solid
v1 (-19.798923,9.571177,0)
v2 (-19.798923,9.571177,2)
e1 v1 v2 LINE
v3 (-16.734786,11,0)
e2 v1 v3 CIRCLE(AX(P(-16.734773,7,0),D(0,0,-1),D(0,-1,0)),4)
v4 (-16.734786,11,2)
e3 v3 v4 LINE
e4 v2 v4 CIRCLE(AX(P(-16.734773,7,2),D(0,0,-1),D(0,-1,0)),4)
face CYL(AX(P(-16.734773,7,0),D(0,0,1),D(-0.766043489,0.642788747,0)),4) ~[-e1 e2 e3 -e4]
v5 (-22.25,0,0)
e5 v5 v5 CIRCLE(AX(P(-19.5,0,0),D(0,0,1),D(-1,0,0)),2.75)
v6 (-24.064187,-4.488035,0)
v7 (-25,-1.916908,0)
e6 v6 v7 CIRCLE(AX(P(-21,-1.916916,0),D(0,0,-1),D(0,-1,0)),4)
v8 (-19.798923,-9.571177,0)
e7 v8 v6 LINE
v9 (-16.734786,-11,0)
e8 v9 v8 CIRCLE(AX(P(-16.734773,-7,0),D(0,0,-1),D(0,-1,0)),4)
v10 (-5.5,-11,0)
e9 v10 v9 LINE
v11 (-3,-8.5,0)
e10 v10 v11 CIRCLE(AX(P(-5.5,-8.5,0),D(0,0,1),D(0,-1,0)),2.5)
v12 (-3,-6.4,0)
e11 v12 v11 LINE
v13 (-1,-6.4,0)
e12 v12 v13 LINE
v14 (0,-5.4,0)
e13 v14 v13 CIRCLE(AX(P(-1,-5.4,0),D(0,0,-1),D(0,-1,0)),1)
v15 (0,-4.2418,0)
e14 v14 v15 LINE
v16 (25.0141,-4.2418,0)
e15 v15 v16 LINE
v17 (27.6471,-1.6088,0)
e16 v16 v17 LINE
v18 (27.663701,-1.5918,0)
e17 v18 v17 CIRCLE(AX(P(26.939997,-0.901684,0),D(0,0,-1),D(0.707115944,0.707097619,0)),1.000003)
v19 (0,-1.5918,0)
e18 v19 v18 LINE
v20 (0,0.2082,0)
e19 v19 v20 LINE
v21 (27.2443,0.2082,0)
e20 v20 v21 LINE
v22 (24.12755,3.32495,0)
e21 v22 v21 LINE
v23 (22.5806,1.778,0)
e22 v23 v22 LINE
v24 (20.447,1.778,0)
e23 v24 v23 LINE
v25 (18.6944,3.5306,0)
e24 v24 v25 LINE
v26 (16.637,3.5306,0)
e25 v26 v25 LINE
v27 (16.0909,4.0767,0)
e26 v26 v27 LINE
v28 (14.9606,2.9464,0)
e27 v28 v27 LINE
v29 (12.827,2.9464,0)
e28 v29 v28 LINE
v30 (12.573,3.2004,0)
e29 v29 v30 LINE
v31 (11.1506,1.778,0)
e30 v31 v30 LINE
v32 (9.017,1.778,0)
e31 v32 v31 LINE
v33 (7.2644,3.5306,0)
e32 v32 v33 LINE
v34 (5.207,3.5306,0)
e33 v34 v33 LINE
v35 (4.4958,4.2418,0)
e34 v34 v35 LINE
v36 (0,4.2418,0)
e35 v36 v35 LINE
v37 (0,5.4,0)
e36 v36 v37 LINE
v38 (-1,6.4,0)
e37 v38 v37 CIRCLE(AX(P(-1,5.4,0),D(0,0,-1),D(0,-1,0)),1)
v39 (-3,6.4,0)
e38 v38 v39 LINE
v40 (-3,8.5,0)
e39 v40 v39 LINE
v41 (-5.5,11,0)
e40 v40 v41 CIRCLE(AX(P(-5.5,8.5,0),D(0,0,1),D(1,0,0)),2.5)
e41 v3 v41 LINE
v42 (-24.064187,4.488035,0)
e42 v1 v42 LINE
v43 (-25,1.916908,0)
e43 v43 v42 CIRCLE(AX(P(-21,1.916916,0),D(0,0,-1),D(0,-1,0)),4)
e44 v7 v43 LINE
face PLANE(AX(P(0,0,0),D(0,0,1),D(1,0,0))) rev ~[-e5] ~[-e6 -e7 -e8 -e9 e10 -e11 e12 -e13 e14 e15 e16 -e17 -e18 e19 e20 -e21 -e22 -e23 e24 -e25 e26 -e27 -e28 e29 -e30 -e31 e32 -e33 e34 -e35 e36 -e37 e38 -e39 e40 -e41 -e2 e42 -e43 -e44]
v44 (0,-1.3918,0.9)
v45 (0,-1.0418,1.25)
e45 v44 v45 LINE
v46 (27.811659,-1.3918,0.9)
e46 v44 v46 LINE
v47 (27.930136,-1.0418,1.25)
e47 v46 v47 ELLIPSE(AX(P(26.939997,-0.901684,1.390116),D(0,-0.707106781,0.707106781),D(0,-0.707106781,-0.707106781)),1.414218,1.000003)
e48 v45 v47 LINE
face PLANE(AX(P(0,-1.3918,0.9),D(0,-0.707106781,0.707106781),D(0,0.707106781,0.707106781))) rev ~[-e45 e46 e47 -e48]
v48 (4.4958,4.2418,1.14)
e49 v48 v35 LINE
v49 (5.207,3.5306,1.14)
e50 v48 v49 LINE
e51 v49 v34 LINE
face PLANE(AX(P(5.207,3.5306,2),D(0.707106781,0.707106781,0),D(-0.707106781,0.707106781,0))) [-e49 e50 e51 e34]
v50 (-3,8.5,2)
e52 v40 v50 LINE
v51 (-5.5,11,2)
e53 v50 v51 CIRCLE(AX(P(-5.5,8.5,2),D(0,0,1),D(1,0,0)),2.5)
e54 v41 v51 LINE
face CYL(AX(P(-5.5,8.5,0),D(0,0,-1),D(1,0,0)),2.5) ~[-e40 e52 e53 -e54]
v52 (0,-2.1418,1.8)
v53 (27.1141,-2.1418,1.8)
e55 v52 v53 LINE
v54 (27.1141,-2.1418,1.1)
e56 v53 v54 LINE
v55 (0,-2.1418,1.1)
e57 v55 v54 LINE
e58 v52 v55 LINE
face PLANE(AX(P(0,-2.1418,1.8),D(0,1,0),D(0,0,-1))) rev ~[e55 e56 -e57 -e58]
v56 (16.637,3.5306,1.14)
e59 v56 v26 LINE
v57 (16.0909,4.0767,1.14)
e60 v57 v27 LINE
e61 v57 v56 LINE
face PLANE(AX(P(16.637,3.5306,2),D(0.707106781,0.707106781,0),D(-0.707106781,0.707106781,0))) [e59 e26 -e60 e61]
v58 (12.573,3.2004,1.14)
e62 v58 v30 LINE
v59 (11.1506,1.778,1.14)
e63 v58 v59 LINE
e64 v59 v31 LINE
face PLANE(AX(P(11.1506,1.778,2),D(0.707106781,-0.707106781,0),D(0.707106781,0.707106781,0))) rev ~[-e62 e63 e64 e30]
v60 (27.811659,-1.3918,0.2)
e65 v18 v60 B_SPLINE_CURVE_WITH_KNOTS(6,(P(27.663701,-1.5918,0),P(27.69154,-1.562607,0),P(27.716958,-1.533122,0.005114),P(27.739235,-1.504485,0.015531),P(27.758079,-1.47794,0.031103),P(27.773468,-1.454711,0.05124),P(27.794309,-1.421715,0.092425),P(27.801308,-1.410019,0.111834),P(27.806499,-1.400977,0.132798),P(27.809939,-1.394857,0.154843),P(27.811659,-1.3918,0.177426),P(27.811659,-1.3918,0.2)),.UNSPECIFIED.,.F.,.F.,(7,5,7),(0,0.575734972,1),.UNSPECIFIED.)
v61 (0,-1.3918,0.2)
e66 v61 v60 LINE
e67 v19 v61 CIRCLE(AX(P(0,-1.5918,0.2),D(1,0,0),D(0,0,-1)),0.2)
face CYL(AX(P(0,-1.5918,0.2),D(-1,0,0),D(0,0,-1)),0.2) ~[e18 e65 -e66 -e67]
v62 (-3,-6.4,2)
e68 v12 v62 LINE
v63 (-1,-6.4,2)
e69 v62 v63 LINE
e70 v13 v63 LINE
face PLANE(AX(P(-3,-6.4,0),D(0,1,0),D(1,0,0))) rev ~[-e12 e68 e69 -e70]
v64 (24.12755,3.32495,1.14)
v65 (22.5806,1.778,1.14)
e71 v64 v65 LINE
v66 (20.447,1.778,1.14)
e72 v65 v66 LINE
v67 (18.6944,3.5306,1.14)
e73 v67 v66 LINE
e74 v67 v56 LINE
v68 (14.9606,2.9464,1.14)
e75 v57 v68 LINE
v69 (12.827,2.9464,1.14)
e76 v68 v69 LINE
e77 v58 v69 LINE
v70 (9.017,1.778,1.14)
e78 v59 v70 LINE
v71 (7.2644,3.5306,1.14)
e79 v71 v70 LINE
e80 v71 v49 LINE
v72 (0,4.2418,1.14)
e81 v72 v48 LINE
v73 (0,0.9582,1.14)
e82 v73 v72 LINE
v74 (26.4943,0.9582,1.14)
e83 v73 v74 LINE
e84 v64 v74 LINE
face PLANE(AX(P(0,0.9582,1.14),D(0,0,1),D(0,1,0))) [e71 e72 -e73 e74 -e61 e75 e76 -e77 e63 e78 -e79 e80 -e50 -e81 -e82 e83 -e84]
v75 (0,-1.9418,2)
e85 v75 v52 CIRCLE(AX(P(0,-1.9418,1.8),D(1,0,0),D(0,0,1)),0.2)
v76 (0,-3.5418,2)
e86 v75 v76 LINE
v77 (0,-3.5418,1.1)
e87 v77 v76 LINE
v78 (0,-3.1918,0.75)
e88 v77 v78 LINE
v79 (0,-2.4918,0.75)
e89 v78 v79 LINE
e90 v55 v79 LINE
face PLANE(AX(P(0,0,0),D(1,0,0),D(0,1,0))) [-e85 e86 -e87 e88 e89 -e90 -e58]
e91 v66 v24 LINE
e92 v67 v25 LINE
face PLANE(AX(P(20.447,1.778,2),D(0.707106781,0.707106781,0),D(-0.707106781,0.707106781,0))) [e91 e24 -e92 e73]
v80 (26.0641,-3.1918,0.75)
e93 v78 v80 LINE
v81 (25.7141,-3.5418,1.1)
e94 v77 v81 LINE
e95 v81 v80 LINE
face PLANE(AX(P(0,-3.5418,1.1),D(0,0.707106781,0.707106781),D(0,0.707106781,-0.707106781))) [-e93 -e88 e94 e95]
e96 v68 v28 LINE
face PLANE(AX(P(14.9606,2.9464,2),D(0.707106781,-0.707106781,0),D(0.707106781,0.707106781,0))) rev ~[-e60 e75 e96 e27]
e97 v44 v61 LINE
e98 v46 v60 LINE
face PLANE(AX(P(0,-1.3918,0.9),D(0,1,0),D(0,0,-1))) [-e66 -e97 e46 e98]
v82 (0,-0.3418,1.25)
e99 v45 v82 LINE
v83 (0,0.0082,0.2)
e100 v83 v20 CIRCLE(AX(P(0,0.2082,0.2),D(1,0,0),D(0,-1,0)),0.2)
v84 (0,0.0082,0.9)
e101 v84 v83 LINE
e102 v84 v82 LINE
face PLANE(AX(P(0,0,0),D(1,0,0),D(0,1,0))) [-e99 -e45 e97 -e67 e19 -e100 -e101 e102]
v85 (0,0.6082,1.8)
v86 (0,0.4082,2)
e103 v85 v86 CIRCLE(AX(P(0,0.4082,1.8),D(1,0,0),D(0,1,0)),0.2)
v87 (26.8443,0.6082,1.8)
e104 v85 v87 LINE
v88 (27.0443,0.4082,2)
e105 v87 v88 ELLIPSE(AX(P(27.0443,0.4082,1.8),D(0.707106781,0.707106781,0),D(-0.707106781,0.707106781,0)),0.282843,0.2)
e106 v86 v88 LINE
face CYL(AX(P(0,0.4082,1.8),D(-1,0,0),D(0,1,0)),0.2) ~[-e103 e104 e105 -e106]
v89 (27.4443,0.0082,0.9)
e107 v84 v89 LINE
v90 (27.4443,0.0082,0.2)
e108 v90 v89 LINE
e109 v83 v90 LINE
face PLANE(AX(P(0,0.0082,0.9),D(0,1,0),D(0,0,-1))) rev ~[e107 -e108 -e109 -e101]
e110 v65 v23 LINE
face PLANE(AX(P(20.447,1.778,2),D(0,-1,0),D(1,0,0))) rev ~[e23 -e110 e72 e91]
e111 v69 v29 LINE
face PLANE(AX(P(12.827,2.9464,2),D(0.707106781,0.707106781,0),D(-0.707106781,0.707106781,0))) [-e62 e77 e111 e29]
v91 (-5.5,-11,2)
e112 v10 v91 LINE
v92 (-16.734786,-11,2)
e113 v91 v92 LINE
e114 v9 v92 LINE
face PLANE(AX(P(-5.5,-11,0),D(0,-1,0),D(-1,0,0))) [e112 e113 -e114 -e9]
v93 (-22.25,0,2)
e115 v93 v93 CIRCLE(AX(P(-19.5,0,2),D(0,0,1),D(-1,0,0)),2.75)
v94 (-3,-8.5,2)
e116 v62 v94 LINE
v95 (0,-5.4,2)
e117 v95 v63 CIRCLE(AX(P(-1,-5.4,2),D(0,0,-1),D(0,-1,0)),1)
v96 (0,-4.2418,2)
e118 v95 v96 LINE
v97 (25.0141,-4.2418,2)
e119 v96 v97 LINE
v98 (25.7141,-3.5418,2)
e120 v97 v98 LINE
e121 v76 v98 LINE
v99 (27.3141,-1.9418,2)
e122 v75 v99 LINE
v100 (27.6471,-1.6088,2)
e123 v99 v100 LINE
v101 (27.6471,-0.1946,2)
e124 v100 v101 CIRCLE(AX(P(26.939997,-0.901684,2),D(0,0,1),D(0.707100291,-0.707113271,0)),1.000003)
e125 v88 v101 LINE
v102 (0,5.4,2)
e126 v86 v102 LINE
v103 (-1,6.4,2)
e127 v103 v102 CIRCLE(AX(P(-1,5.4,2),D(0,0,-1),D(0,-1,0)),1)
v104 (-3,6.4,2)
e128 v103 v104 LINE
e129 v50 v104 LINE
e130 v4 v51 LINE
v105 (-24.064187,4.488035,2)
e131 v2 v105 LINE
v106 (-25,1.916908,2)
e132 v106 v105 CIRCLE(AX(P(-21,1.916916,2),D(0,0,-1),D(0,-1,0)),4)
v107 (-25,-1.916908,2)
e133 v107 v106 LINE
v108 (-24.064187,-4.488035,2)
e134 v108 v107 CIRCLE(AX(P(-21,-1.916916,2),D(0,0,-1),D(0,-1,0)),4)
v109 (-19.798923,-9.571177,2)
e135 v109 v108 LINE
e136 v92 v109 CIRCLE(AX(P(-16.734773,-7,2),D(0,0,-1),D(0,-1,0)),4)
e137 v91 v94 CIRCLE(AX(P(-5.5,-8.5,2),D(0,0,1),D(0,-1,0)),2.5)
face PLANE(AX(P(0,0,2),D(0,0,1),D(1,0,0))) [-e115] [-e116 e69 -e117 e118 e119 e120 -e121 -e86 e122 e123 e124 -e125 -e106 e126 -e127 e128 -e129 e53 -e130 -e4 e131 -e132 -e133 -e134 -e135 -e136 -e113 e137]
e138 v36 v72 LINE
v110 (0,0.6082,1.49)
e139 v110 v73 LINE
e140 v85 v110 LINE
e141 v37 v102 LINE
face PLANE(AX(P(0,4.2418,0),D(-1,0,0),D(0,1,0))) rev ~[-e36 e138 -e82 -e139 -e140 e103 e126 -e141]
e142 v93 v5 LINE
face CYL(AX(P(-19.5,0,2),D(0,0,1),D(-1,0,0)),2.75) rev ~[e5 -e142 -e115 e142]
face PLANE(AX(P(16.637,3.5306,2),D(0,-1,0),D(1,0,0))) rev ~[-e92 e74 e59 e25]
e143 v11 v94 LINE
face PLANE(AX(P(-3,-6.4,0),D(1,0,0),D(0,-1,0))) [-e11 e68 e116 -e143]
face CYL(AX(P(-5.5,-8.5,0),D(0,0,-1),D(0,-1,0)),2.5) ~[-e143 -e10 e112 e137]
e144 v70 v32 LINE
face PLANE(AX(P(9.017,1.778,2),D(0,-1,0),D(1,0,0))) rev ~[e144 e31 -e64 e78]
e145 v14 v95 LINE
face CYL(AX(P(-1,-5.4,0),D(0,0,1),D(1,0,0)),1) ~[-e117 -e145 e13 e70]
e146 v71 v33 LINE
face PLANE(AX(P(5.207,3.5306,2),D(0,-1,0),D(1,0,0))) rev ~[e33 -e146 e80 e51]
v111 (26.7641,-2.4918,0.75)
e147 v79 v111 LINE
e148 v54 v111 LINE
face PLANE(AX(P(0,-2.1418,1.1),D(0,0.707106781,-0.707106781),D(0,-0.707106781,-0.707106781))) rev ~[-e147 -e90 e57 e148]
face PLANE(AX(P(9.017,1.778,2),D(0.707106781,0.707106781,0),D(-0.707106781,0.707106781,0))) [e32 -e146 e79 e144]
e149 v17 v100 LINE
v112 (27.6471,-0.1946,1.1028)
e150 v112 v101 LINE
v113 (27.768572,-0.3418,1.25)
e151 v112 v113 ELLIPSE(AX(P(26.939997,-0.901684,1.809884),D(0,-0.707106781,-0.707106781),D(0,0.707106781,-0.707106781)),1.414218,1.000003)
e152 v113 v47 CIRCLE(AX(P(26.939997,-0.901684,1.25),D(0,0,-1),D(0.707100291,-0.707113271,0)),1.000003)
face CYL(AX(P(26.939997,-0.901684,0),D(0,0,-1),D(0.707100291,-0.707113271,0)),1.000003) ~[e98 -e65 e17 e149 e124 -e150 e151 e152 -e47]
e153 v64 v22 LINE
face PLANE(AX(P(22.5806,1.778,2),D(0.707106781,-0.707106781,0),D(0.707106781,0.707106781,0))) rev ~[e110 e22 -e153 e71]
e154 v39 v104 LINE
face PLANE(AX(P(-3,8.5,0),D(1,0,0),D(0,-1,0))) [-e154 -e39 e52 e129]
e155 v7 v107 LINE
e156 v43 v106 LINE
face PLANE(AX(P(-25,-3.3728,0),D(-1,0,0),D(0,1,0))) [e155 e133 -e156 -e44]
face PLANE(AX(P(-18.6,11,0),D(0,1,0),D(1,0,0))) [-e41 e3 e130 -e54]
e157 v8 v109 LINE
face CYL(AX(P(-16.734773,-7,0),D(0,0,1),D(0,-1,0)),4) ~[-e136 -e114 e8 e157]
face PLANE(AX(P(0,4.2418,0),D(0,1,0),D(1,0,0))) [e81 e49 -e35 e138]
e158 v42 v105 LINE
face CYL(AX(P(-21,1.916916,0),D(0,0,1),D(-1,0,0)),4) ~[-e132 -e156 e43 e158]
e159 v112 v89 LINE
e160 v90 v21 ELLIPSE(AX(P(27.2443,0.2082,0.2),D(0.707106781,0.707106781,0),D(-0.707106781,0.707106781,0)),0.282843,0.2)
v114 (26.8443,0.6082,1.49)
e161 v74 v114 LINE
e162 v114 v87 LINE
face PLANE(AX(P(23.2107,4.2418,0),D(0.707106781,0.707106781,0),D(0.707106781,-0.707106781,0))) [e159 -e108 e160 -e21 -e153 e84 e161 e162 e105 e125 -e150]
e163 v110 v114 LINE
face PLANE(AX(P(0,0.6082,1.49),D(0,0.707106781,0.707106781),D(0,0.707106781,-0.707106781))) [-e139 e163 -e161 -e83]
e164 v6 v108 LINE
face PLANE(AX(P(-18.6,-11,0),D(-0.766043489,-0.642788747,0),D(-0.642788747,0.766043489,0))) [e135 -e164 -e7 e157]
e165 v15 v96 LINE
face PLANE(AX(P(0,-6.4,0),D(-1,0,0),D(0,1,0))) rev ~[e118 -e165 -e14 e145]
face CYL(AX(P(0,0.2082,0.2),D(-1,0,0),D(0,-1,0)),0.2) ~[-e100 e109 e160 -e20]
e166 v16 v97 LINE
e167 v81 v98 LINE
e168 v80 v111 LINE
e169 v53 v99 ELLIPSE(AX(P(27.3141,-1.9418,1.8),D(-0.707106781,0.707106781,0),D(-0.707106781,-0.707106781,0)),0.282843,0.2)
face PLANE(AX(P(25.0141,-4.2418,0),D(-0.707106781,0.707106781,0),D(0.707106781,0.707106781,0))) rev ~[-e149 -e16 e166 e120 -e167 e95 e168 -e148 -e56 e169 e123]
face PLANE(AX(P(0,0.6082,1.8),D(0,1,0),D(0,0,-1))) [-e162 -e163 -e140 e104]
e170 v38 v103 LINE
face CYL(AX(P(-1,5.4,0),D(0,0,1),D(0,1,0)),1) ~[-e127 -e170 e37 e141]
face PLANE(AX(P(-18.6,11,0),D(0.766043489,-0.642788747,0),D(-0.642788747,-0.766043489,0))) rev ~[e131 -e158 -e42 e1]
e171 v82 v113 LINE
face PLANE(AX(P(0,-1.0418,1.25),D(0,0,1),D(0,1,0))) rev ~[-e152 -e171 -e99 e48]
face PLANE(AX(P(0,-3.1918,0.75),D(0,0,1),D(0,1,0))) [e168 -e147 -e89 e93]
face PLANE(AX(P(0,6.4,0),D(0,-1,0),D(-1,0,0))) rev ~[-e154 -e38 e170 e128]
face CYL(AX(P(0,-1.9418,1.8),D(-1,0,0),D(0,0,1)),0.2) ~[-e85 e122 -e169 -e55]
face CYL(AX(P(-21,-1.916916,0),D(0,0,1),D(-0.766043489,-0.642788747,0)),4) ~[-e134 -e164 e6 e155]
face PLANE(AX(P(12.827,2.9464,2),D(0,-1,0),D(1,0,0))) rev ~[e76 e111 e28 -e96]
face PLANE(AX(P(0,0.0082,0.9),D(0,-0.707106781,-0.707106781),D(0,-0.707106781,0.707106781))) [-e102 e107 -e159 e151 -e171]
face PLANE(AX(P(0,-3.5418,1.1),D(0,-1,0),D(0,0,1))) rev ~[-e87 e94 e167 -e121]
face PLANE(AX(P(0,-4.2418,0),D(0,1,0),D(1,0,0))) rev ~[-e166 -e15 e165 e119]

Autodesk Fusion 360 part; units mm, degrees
sketch "Sketch1" plane through (0, 0, 0) normal (0, 0, 1) x (1, 0, 0)
  line L0 (0, 0) -> (27.94, 0) construction
  line L1 (0, -4.2418) -> (27.94, -4.2418)
  line L2 (0, 4.2418) -> (27.94, 4.2418)
  line L3 (-3, -6.4) -> (0, -6.4)
  line L4 (0, 6.4) -> (-3, 6.4)
  line L5 (-18.6, 11) -> (-3, 11)
  line L6 (-3, -11) -> (-18.6, -11)
  line L7 (-25, -3.3728) -> (-25, 3.3728)
  line L8 (-18.6, 11) -> (-25, 3.3728)
  line L9 (-25, 11) -> (-33.2141, 11) construction
  line L10 (-18.6, -11) -> (-25, -3.3728)
  line L11 (-18.6, -11) -> (-34.3032, -11) construction
  line L12 (-3, 11) -> (-3, 6.4)
  line L13 (-3, -6.4) -> (-3, -11)
  arc A0 (-3, 8.5) -> (-5.5, 11) centre (-5.5, 8.5) ccw
  arc A1 (-5.5, -11) -> (-3, -8.5) centre (-5.5, -8.5) ccw
  line L14 (27.94, 4.2418) -> (27.94, -4.2418)
  line L15 (23.2107, 4.2418) -> (27.6471, -0.1946)
  line L16 (23.2107, 4.2418) -> (33.0981, 4.2418) construction
  line L17 (0, -0.9017) -> (27.94, -0.9017) construction
  line L18 (25.0141, -4.2418) -> (27.6471, -1.6088)
  line L19 (25.0141, -4.2418) -> (38.1109, -4.2418) construction
  arc A2 (27.6471, -1.6088) -> (27.3724, 0) centre (26.94, -0.9017) ccw
  line L20 (0, 4.2418) -> (0, 6.4)
  line L21 (0, -6.4) -> (0, -4.2418)
  dimension "d6" = 27.94
  dimension "d7" = 4.2418
  dimension "d8" = -4.2418
  dimension "d10" = 6.4
  dimension "d11" = 6.4
  dimension "d13" = 3
  dimension "d14" = 11
  dimension "d15" = 11
  dimension "d17" = 50
  dimension "d19" = 50
  dimension "d21" = 6.4
  dimension "d23" = 5
  dimension "d24" = 5
  dimension "d25" = 22
  dimension "d26" = 7.6272
  dimension "d27" = 7.6272
  dimension "d29" = 45
  dimension "d30" = 3.3401
  dimension "d31" = 2
  dimension "d32" = 45
extrude "Extrude1" add sketch "Sketch1" along normal blind 2 contours L1 L2 L3 L4 L5 L6 L7 L8 L10 L12 L13 A0 A1 L15 L18 A2 L20 L21
fillet "Fillet1" radius 1 2 edges at (0, -6.4, 1) (0, 6.4, 1)
fillet "Fillet1" radius 4 4 edges at (-18.6, -11, 1) (-25, -3.3728, 1) (-25, 3.3728, 1) (-18.6, 11, 1)
sketch "Sketch2" plane through (0, 0, 2) normal (0, 0, 1) x (-1, 0, 0)
  line L0 (3, 6.4) -> (1, 6.4)
  line L1 (0, 5.4) -> (0, 4.2418)
  line L2 (0, 4.2418) -> (-25.0141, 4.2418)
  line L3 (-25.0141, 4.2418) -> (-27.6471, 1.6088)
  arc A0 (-27.6471, 1.6088) -> (-27.6471, 0.1946) centre (-26.94, 0.9017) ccw
  line L4 (-27.6471, 0.1946) -> (-23.2107, -4.2418)
  line L5 (-23.2107, -4.2418) -> (0, -4.2418)
  line L6 (0, -4.2418) -> (0, -5.4)
  line L7 (1, -6.4) -> (3, -6.4)
  line L8 (3, -6.4) -> (3, -8.5)
  arc A1 (3, -8.5) -> (5.5, -11) centre (5.5, -8.5) ccw
  line L9 (5.5, -11) -> (16.7348, -11)
  line L10 (19.7989, -9.5712) -> (24.0642, -4.488)
  line L11 (25, -1.9169) -> (25, 1.9169)
  line L12 (24.0642, 4.488) -> (19.7989, 9.5712)
  line L13 (16.7348, 11) -> (5.5, 11)
  arc A2 (5.5, 11) -> (3, 8.5) centre (5.5, 8.5) ccw
  line L14 (3, 8.5) -> (3, 6.4)
  line L15 (0, 4.2418) -> (0, -4.2418) construction
  line L16 (-6.2738, -4.2418) -> (-6.2738, 4.2418) construction
  line L17 (-10.0838, -4.2418) -> (-10.0838, 4.2418) construction
  line L18 (-13.8938, -4.2418) -> (-13.8938, 4.2418) construction
  line L19 (-17.7038, -4.2418) -> (-17.7038, 4.2418) construction
  line L20 (-21.5138, -4.2418) -> (-21.5138, 4.2418) construction
  line L21 (-5.207, -4.2418) -> (-5.207, 4.2418) construction
  line L22 (-7.3406, -4.2418) -> (-7.3406, 4.2418) construction
  line L23 (-9.017, -4.2418) -> (-9.017, 4.2418) construction
  line L24 (-11.1506, -4.2418) -> (-11.1506, 4.2418) construction
  line L25 (-12.827, -4.2418) -> (-12.827, 4.2418) construction
  line L26 (-14.9606, -4.2418) -> (-14.9606, 4.2418) construction
  line L27 (-16.637, -4.2418) -> (-16.637, 4.2418) construction
  line L28 (-18.7706, -4.2418) -> (-18.7706, 4.2418) construction
  line L29 (-20.447, -4.2418) -> (-20.447, 4.2418) construction
  line L30 (-22.5806, -4.2418) -> (-22.5806, 4.2418) construction
  line L31 (-5.207, -3.5306) -> (-7.3406, -3.5306)
  line L32 (-9.017, -1.778) -> (-11.1506, -1.778)
  line L33 (-12.827, -2.9464) -> (-14.9606, -2.9464)
  line L34 (-16.637, -3.5306) -> (-18.7706, -3.5306)
  line L35 (-20.447, -1.778) -> (-22.5806, -1.778)
  line L36 (-5.207, -3.5306) -> (-0.9644, -7.7732)
  line L37 (-5.207, -3.5306) -> (0.793, -3.5306) construction
  line L38 (-7.3406, -3.5306) -> (-11.5832, -7.7732)
  line L39 (-7.3406, -3.5306) -> (-13.3406, -3.5306) construction
  line L40 (-9.017, -1.778) -> (-4.7744, -6.0206)
  line L41 (-9.017, -1.778) -> (-3.017, -1.778) construction
  line L42 (-11.1506, -1.778) -> (-15.3932, -6.0206)
  line L43 (-11.1506, -1.778) -> (-17.1506, -1.778) construction
  line L44 (-12.827, -2.9464) -> (-8.5844, -7.189)
  line L45 (-12.827, -2.9464) -> (-6.827, -2.9464) construction
  line L46 (-14.9606, -2.9464) -> (-19.2032, -7.189)
  line L47 (-14.9606, -2.9464) -> (-20.9606, -2.9464) construction
  line L48 (-16.637, -3.5306) -> (-12.3944, -7.7732)
  line L49 (-16.637, -3.5306) -> (-10.637, -3.5306) construction
  line L50 (-18.7706, -3.5306) -> (-23.0132, -7.7732)
  line L51 (-18.7706, -3.5306) -> (-24.7706, -3.5306) construction
  line L52 (-20.447, -1.778) -> (-16.2044, -6.0206)
  line L53 (-20.447, -1.778) -> (-14.447, -1.778) construction
  line L54 (-22.5806, -1.778) -> (-26.8232, -6.0206)
  line L55 (-22.5806, -1.778) -> (-28.5806, -1.778) construction
  line L56 (0, 0) -> (25, 0) construction
  circle A3 centre (19.5, 0) radius 2.75
  arc A4 (0, -5.4) -> (1, -6.4) centre (1, -5.4) ccw
  arc A5 (1, 6.4) -> (0, 5.4) centre (1, 5.4) ccw
  arc A6 (16.7348, -11) -> (19.7989, -9.5712) centre (16.7348, -7) ccw
  arc A7 (24.0642, -4.488) -> (25, -1.9169) centre (21, -1.9169) ccw
  arc A8 (25, 1.9169) -> (24.0642, 4.488) centre (21, 1.9169) ccw
  arc A9 (19.7989, 9.5712) -> (16.7348, 11) centre (16.7348, 7) ccw
  dimension "d35" = 6.2738
  dimension "d36" = 10.0838
  dimension "d37" = 13.8938
  dimension "d38" = 17.7038
  dimension "d39" = 21.5138
  dimension "d40" = 1.0668
  dimension "d41" = -1.0668
  dimension "d42" = 1.0668
  dimension "d43" = -1.0668
  dimension "d44" = 1.0668
  dimension "d45" = -1.0668
  dimension "d46" = 1.0668
  dimension "d47" = -1.0668
  dimension "d48" = 1.0668
  dimension "d49" = -1.0668
  dimension "d51" = 6.0198
  dimension "d53" = 7.1882
  dimension "d54" = 7.7724
  dimension "d55" = 6.0198
  dimension "d56" = 45
  dimension "d57" = 6
  dimension "d58" = 45
  dimension "d59" = 6
  dimension "d60" = 45
  dimension "d61" = 6
  dimension "d62" = 45
  dimension "d63" = 6
  dimension "d64" = 45
  dimension "d65" = 6
  dimension "d66" = 45
  dimension "d67" = 6
  dimension "d68" = 45
  dimension "d69" = 6
  dimension "d70" = 45
  dimension "d71" = 6
  dimension "d72" = 45
  dimension "d73" = 6
  dimension "d74" = 45
  dimension "d75" = 6
  dimension "d76" = 5.5
  dimension "d77" = 5.5
  dimension "d123" = 7.7724
extrude "Extrude2" cut sketch "Sketch2" against normal blind 2 contours L0 L1 L2 L3 A0 L4 L5 L6 L7 L8 A1 L9 L10 L11 L12 L13 A2 L14 L31 L32 L33 L34 L35 L36 L40 L42 L44 L46 L48 L52 L54 A4 A5 A6 A7 A8 A9 keep common part
sketch "Sketch3" plane through (0, 0, 0) normal (1, 0, 0) x (0, 1, 0)
  line L0 (4.2418, 0) -> (4.2418, 2)
  line L1 (-4.2418, 0) -> (-4.2418, 2)
  line L2 (-4.2418, 2) -> (4.2418, 2)
  line L3 (-4.2418, 0) -> (4.2418, 0)
  line L4 (-3.5418, 0.75) -> (-3.5418, 2)
  line L5 (-2.1418, 2) -> (-2.1418, 0.75)
  line L6 (0.6082, 2) -> (0.6082, 1.49)
  line L7 (-1.3918, 1.25) -> (-1.3918, 0)
  line L8 (0.0082, 1.25) -> (0.0082, 0)
  line L9 (-3.5418, 0.75) -> (-2.1418, 0.75)
  line L10 (-1.3918, 1.25) -> (0.0082, 1.25)
  line L11 (0.9582, 1.14) -> (4.2418, 1.14)
  line L12 (0.6082, 1.49) -> (0.9582, 1.14)
  line L13 (0.6082, 1.49) -> (1.6082, 1.49) construction
  line L14 (-1.3918, 0.9) -> (-1.0418, 1.25)
  line L15 (-1.3918, 0.9) -> (-0.3918, 0.9) construction
  line L16 (0.0082, 0.9) -> (-0.3418, 1.25)
  line L17 (0.0082, 0.9) -> (-0.9918, 0.9) construction
  line L18 (-3.5418, 1.1) -> (-2.5418, 1.1) construction
  line L19 (-2.1418, 1.1) -> (-3.1418, 1.1) construction
  line L20 (-3.5418, 1.1) -> (-3.1918, 0.75)
  line L21 (-2.8418, 0.4) -> (-2.8347, 0.3929) construction
  line L22 (-2.1418, 1.1) -> (-2.4918, 0.75)
  line L23 (-2.8418, 0.4) -> (-2.8489, 0.3929) construction
  arc A0 (-1.9418, 2) -> (-2.1418, 1.8) centre (-1.9418, 1.8) ccw
  arc A1 (0.6082, 1.8) -> (0.4082, 2) centre (0.4082, 1.8) ccw
  arc A2 (0.0082, 0.2) -> (0.2082, 0) centre (0.2082, 0.2) ccw
  arc A3 (-1.5918, 0) -> (-1.3918, 0.2) centre (-1.5918, 0.2) ccw
  point P0 (-4.2418, 0)
  point P1 (-4.2418, 2)
  dimension "d84" = 0.7
  dimension "d85" = 1.4
  dimension "d86" = 2.75
  dimension "d87" = 2.85
  dimension "d88" = 1.4
  dimension "d90" = 0.75
  dimension "d92" = 1.25
  dimension "d93" = 0.86
  dimension "d96" = 45
  dimension "d99" = 45
  dimension "d101" = 45
  dimension "d103" = 0.35
  dimension "d104" = 0.35
  dimension "d105" = 45
  dimension "d106" = 1
  dimension "d107" = 45
  dimension "d108" = 1
  dimension "d109" = 0.35
  dimension "d110" = 0.35
  dimension "d111" = 0.35
  dimension "d112" = 0.4
  dimension "d113" = 0.4
  dimension "d114" = 0.4
  dimension "d115" = 0.4
extrude "Extrude3" cut sketch "Sketch3" along normal blind 30 contours L0 L2 L6 L11 L12 | L3 L8 A2 | L3 L7 L8 L10 L14 L16 | L2 L6 A1 | L3 L7 A3 | L2 L5 A0 | L2 L4 L5 L9 L20 L22
sketch "Sketch4" plane through (0, 0, 0) normal (0, 0, 1) x (1, 0, 0)
  line L0 (6.2738, 0) -> (6.2738, 35)
  line L1 (10.0838, 0) -> (10.0838, 30)
  line L2 (13.8938, 0) -> (13.8938, 25)
  line L3 (17.7038, 0) -> (17.7038, 20)
  line L4 (21.5138, 0) -> (21.5138, 15)
  line L5 (6.2738, 35) -> (16.2738, 35) construction
  line L6 (16.2738, 35) -> (16.2738, 39) construction
  line L7 (16.2738, 39) -> (6.2738, 39) construction
  line L8 (6.2738, 39) -> (6.2738, 35) construction
  line L9 (10.0838, 30) -> (20.0838, 30) construction
  line L10 (20.0838, 30) -> (20.0838, 34) construction
  line L11 (20.0838, 34) -> (10.0838, 34) construction
  line L12 (10.0838, 34) -> (10.0838, 30) construction
  line L13 (13.8938, 25) -> (23.8938, 25) construction
  line L14 (23.8938, 25) -> (23.8938, 29) construction
  line L15 (23.8938, 29) -> (13.8938, 29) construction
  line L16 (13.8938, 29) -> (13.8938, 25) construction
  line L17 (17.7038, 20) -> (27.7038, 20) construction
  line L18 (27.7038, 20) -> (27.7038, 24) construction
  line L19 (27.7038, 24) -> (17.7038, 24) construction
  line L20 (17.7038, 24) -> (17.7038, 20) construction
  line L21 (21.5138, 15) -> (31.5138, 15) construction
  line L22 (31.5138, 15) -> (31.5138, 19) construction
  line L23 (31.5138, 19) -> (21.5138, 19) construction
  line L24 (21.5138, 19) -> (21.5138, 15) construction
  line L25 (40.8004, 0.0886) -> (100.8004, 0.0886) construction
  line L26 (100.8004, 0.0886) -> (100.8004, 75.0886) construction
  line L27 (100.8004, 75.0886) -> (40.8004, 75.0886) construction
  line L28 (40.8004, 75.0886) -> (40.8004, 0.0886) construction
  line L29 (100.8004, 69.0886) -> (40.8004, 69.0886) construction
  line L30 (40.8004, 69.0886) -> (100.8004, 69.0886) construction
  line L31 (100.8004, 69.0886) -> (100.8004, 75.0886) construction
  line L32 (100.8004, 75.0886) -> (40.8004, 75.0886) construction
  line L33 (40.8004, 75.0886) -> (40.8004, 69.0886) construction
  line L34 (100.8004, 63.0886) -> (40.8004, 63.0886) construction
  line L35 (40.8004, 63.0886) -> (100.8004, 63.0886) construction
  line L36 (100.8004, 63.0886) -> (100.8004, 69.0886) construction
  line L37 (100.8004, 69.0886) -> (40.8004, 69.0886) construction
  line L38 (40.8004, 69.0886) -> (40.8004, 63.0886) construction
  line L39 (40.8004, 0.1102) -> (100.8004, 0.1102) construction
  line L40 (100.8004, 0.1102) -> (100.8004, 63.0886) construction
  line L41 (100.8004, 63.0886) -> (40.8004, 63.0886) construction
  line L42 (40.8004, 63.0886) -> (40.8004, 0.1102) construction
  line L43 (113.1762, 75.0886) -> (179.487, 75.0886) construction
  line L44 (179.487, 75.0886) -> (179.487, 0.0886) construction
  line L45 (179.487, 0.0886) -> (113.1762, 0.0886) construction
  line L46 (113.1762, 0.0886) -> (113.1762, 75.0886) construction
  line L47 (113.1762, 69.0886) -> (179.487, 69.0886) construction
  line L48 (113.1762, 63.0886) -> (179.487, 63.0886) construction
  line L49 (113.1762, 69.0886) -> (179.487, 69.0886) construction
  line L50 (179.487, 69.0886) -> (179.487, 75.0886) construction
  line L51 (179.487, 75.0886) -> (113.1762, 75.0886) construction
  line L52 (113.1762, 75.0886) -> (113.1762, 69.0886) construction
  line L53 (113.1762, 63.0886) -> (179.487, 63.0886) construction
  line L54 (179.487, 63.0886) -> (179.487, 69.0886) construction
  line L55 (179.487, 69.0886) -> (113.1762, 69.0886) construction
  line L56 (113.1762, 69.0886) -> (113.1762, 63.0886) construction
  line L57 (113.1762, 38.0886) -> (179.487, 38.0886) construction
  line L58 (113.1762, 38.0886) -> (179.487, 38.0886) construction
  line L59 (179.487, 38.0886) -> (179.487, 63.0886) construction
  line L60 (179.487, 63.0886) -> (113.1762, 63.0886) construction
  line L61 (113.1762, 63.0886) -> (113.1762, 38.0886) construction
  line L62 (179.487, 4.8386) -> (113.1762, 4.8386) construction
  line L63 (179.487, 9.5886) -> (113.1762, 9.5886) construction
  line L64 (179.487, 14.3386) -> (113.1762, 14.3386) construction
  line L65 (179.487, 19.0886) -> (113.1762, 19.0886) construction
  line L66 (179.487, 23.8386) -> (113.1762, 23.8386) construction
  line L67 (179.487, 28.5886) -> (113.1762, 28.5886) construction
  line L68 (179.487, 33.3386) -> (113.1762, 33.3386) construction
  line L69 (113.1762, 38.0886) -> (179.487, 38.0886)
  line L70 (179.487, 38.0886) -> (179.487, 0.0886)
  line L71 (179.487, 0.0886) -> (113.1762, 0.0886)
  line L72 (113.1762, 0.0886) -> (113.1762, 38.0886)
  line L73 (113.1762, 4.8386) -> (179.487, 4.8386)
  line L74 (179.487, 9.5886) -> (113.1762, 9.5886)
  line L75 (113.1762, 14.3386) -> (179.487, 14.3386)
  line L76 (113.1762, 19.0886) -> (179.487, 19.0886)
  line L77 (113.1762, 23.8386) -> (179.487, 23.8386)
  line L78 (113.1762, 28.5886) -> (179.487, 28.5886)
  line L79 (113.1762, 33.3386) -> (179.487, 33.3386)
  line L80 (130.6528, 38.0886) -> (130.6528, 0.0886)
  line L81 (155.9913, 38.0886) -> (155.9913, 0.0886)
  line L82 (113.1762, 33.3386) -> (130.6528, 33.3386) construction
  line L83 (130.6528, 33.3386) -> (130.6528, 38.0886) construction
  line L84 (130.6528, 38.0886) -> (113.1762, 38.0886) construction
  line L85 (113.1762, 38.0886) -> (113.1762, 33.3386) construction
  line L86 (130.6528, 33.3386) -> (155.9913, 33.3386) construction
  line L87 (155.9913, 33.3386) -> (155.9913, 38.0886) construction
  line L88 (155.9913, 38.0886) -> (130.6528, 38.0886) construction
  line L89 (130.6528, 38.0886) -> (130.6528, 33.3386) construction
  line L90 (155.9913, 33.3386) -> (179.487, 33.3386) construction
  line L91 (179.487, 33.3386) -> (179.487, 38.0886) construction
  line L92 (179.487, 38.0886) -> (155.9913, 38.0886) construction
  line L93 (155.9913, 38.0886) -> (155.9913, 33.3386) construction
  line L94 (113.1762, 28.5886) -> (130.6528, 28.5886) construction
  line L95 (130.6528, 28.5886) -> (130.6528, 33.3386) construction
  line L96 (130.6528, 33.3386) -> (113.1762, 33.3386) construction
  line L97 (113.1762, 33.3386) -> (113.1762, 28.5886) construction
  line L98 (113.1762, 23.8386) -> (130.6528, 23.8386) construction
  line L99 (130.6528, 23.8386) -> (130.6528, 28.5886) construction
  line L100 (130.6528, 28.5886) -> (113.1762, 28.5886) construction
  line L101 (113.1762, 28.5886) -> (113.1762, 23.8386) construction
  line L102 (113.1762, 19.0886) -> (130.6528, 19.0886) construction
  line L103 (130.6528, 19.0886) -> (130.6528, 23.8386) construction
  line L104 (130.6528, 23.8386) -> (113.1762, 23.8386) construction
  line L105 (113.1762, 23.8386) -> (113.1762, 19.0886) construction
  line L106 (113.1762, 14.3386) -> (130.6528, 14.3386) construction
  line L107 (130.6528, 14.3386) -> (130.6528, 19.0886) construction
  line L108 (130.6528, 19.0886) -> (113.1762, 19.0886) construction
  line L109 (113.1762, 19.0886) -> (113.1762, 14.3386) construction
  line L110 (113.1762, 9.5886) -> (130.6528, 9.5886) construction
  line L111 (130.6528, 9.5886) -> (130.6528, 14.3386) construction
  line L112 (130.6528, 14.3386) -> (113.1762, 14.3386) construction
  line L113 (113.1762, 14.3386) -> (113.1762, 9.5886) construction
  line L114 (113.1762, 4.8386) -> (130.6528, 4.8386) construction
  line L115 (130.6528, 4.8386) -> (130.6528, 9.5886) construction
  line L116 (130.6528, 9.5886) -> (113.1762, 9.5886) construction
  line L117 (113.1762, 9.5886) -> (113.1762, 4.8386) construction
  line L118 (113.1762, 0.0886) -> (130.6528, 0.0886) construction
  line L119 (130.6528, 0.0886) -> (130.6528, 4.8386) construction
  line L120 (130.6528, 4.8386) -> (113.1762, 4.8386) construction
  line L121 (113.1762, 4.8386) -> (113.1762, 0.0886) construction
  line L122 (155.9913, 28.5886) -> (179.487, 28.5886) construction
  line L123 (179.487, 28.5886) -> (179.487, 33.3386) construction
  line L124 (179.487, 33.3386) -> (155.9913, 33.3386) construction
  line L125 (155.9913, 33.3386) -> (155.9913, 28.5886) construction
  line L126 (155.9913, 23.8386) -> (179.487, 23.8386) construction
  line L127 (179.487, 23.8386) -> (179.487, 28.5886) construction
  line L128 (179.487, 28.5886) -> (155.9913, 28.5886) construction
  line L129 (155.9913, 28.5886) -> (155.9913, 23.8386) construction
  line L130 (155.9913, 19.0886) -> (179.487, 19.0886) construction
  line L131 (179.487, 19.0886) -> (179.487, 23.8386) construction
  line L132 (179.487, 23.8386) -> (155.9913, 23.8386) construction
  line L133 (155.9913, 23.8386) -> (155.9913, 19.0886) construction
  line L134 (155.9913, 14.3386) -> (179.487, 14.3386) construction
  line L135 (179.487, 14.3386) -> (179.487, 19.0886) construction
  line L136 (179.487, 19.0886) -> (155.9913, 19.0886) construction
  line L137 (155.9913, 19.0886) -> (155.9913, 14.3386) construction
  line L138 (155.9913, 9.5886) -> (179.487, 9.5886) construction
  line L139 (179.487, 9.5886) -> (179.487, 14.3386) construction
  line L140 (179.487, 14.3386) -> (155.9913, 14.3386) construction
  line L141 (155.9913, 14.3386) -> (155.9913, 9.5886) construction
  line L142 (155.9913, 4.8386) -> (179.487, 4.8386) construction
  line L143 (179.487, 4.8386) -> (179.487, 9.5886) construction
  line L144 (179.487, 9.5886) -> (155.9913, 9.5886) construction
  line L145 (155.9913, 9.5886) -> (155.9913, 4.8386) construction
  line L146 (155.9913, 0.0886) -> (179.487, 0.0886) construction
  line L147 (179.487, 0.0886) -> (179.487, 4.8386) construction
  line L148 (179.487, 4.8386) -> (155.9913, 4.8386) construction
  line L149 (155.9913, 4.8386) -> (155.9913, 0.0886) construction
  line L150 (130.6528, 28.5886) -> (155.9913, 28.5886) construction
  line L151 (155.9913, 28.5886) -> (155.9913, 33.3386) construction
  line L152 (155.9913, 33.3386) -> (130.6528, 33.3386) construction
  line L153 (130.6528, 33.3386) -> (130.6528, 28.5886) construction
  line L154 (130.6528, 23.8386) -> (155.9913, 23.8386) construction
  line L155 (155.9913, 23.8386) -> (155.9913, 28.5886) construction
  line L156 (155.9913, 28.5886) -> (130.6528, 28.5886) construction
  line L157 (130.6528, 28.5886) -> (130.6528, 23.8386) construction
  line L158 (130.6528, 19.0886) -> (155.9913, 19.0886) construction
  line L159 (155.9913, 19.0886) -> (155.9913, 23.8386) construction
  line L160 (155.9913, 23.8386) -> (130.6528, 23.8386) construction
  line L161 (130.6528, 23.8386) -> (130.6528, 19.0886) construction
  line L162 (130.6528, 14.3386) -> (155.9913, 14.3386) construction
  line L163 (155.9913, 14.3386) -> (155.9913, 19.0886) construction
  line L164 (155.9913, 19.0886) -> (130.6528, 19.0886) construction
  line L165 (130.6528, 19.0886) -> (130.6528, 14.3386) construction
  line L166 (130.6528, 9.5886) -> (155.9913, 9.5886) construction
  line L167 (155.9913, 9.5886) -> (155.9913, 14.3386) construction
  line L168 (155.9913, 14.3386) -> (130.6528, 14.3386) construction
  line L169 (130.6528, 14.3386) -> (130.6528, 9.5886) construction
  line L170 (130.6528, 4.8386) -> (155.9913, 4.8386) construction
  line L171 (155.9913, 4.8386) -> (155.9913, 9.5886) construction
  line L172 (155.9913, 9.5886) -> (130.6528, 9.5886) construction
  line L173 (130.6528, 9.5886) -> (130.6528, 4.8386) construction
  line L174 (130.6528, 0.0886) -> (155.9913, 0.0886) construction
  line L175 (155.9913, 0.0886) -> (155.9913, 4.8386) construction
  line L176 (155.9913, 4.8386) -> (130.6528, 4.8386) construction
  line L177 (130.6528, 4.8386) -> (130.6528, 0.0886) construction
  dimension "d125" = 35
  dimension "d126" = 30
  dimension "d127" = 25
  dimension "d128" = 20
  dimension "d129" = 15
  dimension "d140" = 3
  dimension "d141" = 3
  dimension "d142" = 3
  dimension "d143" = 3
  dimension "d144" = 3
  dimension "d145" = 60
  dimension "d146" = 75
  dimension "d147" = -6
  dimension "d148" = 4
  dimension "d149" = -12
  dimension "d150" = 4
  dimension "d151" = 3
  dimension "d152" = 6
  dimension "d153" = 12
  dimension "d154" = 4
  dimension "d155" = 4
  dimension "d156" = 25
  dimension "d157" = 3
  dimension "d158" = 75
  dimension "d159" = 75
  dimension "d163" = 0
  dimension "d164" = 4.75
  dimension "d165" = 3
  dimension "d166" = 3
  dimension "d167" = 3
  dimension "d168" = 3
  dimension "d169" = 3
  dimension "d170" = 3
  dimension "d171" = 3
  dimension "d172" = 3
  dimension "d173" = 3
  dimension "d174" = 3
  dimension "d175" = 3
  dimension "d176" = 3
  dimension "d177" = 3
  dimension "d178" = 3
  dimension "d179" = 3
  dimension "d180" = 3
  dimension "d181" = 3
  dimension "d182" = 3
  dimension "d183" = 3
  dimension "d184" = 3
  dimension "d185" = 3
  dimension "d186" = 3
  dimension "d187" = 3
  dimension "d188" = 3
equation "d6 = ( 1.1 * 25.4 ) * 1 mm"
equation "d7 = ( 0.334 * 12.7 ) * 1 mm"
equation "d8 = ( 0.334 * -12.7 ) * 1 mm"
equation "d30 = ( ( 0.334 - 0.2025 ) * 25.4 ) * 1 mm"
equation "d35 = ( 0.247 * 25.4 ) * 1 mm"
equation "d36 = ( 0.397 * 25.4 ) * 1 mm"
equation "d37 = ( 0.547 * 25.4 ) * 1 mm"
equation "d38 = ( 0.697 * 25.4 ) * 1 mm"
equation "d39 = ( 0.847 * 25.4 ) * 1 mm"
equation "d40 = ( 0.042 * 25.4 ) * 1 mm"
equation "d41 = ( 0.042 * -25.4 ) * 1 mm"
equation "d42 = ( 0.042 * 25.4 ) * 1 mm"
equation "d43 = ( 0.042 * -25.4 ) * 1 mm"
equation "d44 = ( 0.042 * 25.4 ) * 1 mm"
equation "d45 = ( 0.042 * -25.4 ) * 1 mm"
equation "d46 = ( 0.042 * 25.4 ) * 1 mm"
equation "d47 = ( 0.042 * -25.4 ) * 1 mm"
equation "d48 = ( 0.042 * 25.4 ) * 1 mm"
equation "d49 = ( 0.042 * -25.4 ) * 1 mm"
equation "d51 = ( ( 0.168 + ( 0.023 * ( 8 - CUT_2 ) ) ) * 25.4 ) * 1 mm"
equation "d53 = ( ( 0.168 + ( 0.023 * ( 8 - CUT_3 ) ) ) * 25.4 ) * 1 mm"
equation "d54 = ( ( 0.168 + ( 0.023 * ( 8 - CUT_4 ) ) ) * 25.4 ) * 1 mm"
equation "d55 = ( ( 0.168 + ( 0.023 * ( 8 - CUT_5 ) ) ) * 25.4 ) * 1 mm"
equation "CUT_1 = floor(KEYCODE / 10000)" comment "DON'T CHANGE THIS"
equation "CUT_2 = floor(( KEYCODE - ( floor(KEYCODE / 10000) * 10000 ) ) / 1000)" comment "DON'T CHANGE THIS"
equation "CUT_3 = floor(( KEYCODE - ( floor(KEYCODE / 1000) * 1000 ) ) / 100)" comment "DON'T CHANGE THIS"
equation "CUT_4 = floor(( KEYCODE - ( floor(KEYCODE / 100) * 100 ) ) / 10)" comment "DON'T CHANGE THIS"
equation "CUT_5 = floor(( KEYCODE - ( floor(KEYCODE / 10) * 10 ) ) / 1)" comment "DON'T CHANGE THIS"
equation "d123 = ( ( 0.168 + ( 0.023 * ( 8 - CUT_1 ) ) ) * 25.4 ) * 1 mm"
equation "KEYCODE = 25325" comment "ENTER THE KEYCODE HERE"
